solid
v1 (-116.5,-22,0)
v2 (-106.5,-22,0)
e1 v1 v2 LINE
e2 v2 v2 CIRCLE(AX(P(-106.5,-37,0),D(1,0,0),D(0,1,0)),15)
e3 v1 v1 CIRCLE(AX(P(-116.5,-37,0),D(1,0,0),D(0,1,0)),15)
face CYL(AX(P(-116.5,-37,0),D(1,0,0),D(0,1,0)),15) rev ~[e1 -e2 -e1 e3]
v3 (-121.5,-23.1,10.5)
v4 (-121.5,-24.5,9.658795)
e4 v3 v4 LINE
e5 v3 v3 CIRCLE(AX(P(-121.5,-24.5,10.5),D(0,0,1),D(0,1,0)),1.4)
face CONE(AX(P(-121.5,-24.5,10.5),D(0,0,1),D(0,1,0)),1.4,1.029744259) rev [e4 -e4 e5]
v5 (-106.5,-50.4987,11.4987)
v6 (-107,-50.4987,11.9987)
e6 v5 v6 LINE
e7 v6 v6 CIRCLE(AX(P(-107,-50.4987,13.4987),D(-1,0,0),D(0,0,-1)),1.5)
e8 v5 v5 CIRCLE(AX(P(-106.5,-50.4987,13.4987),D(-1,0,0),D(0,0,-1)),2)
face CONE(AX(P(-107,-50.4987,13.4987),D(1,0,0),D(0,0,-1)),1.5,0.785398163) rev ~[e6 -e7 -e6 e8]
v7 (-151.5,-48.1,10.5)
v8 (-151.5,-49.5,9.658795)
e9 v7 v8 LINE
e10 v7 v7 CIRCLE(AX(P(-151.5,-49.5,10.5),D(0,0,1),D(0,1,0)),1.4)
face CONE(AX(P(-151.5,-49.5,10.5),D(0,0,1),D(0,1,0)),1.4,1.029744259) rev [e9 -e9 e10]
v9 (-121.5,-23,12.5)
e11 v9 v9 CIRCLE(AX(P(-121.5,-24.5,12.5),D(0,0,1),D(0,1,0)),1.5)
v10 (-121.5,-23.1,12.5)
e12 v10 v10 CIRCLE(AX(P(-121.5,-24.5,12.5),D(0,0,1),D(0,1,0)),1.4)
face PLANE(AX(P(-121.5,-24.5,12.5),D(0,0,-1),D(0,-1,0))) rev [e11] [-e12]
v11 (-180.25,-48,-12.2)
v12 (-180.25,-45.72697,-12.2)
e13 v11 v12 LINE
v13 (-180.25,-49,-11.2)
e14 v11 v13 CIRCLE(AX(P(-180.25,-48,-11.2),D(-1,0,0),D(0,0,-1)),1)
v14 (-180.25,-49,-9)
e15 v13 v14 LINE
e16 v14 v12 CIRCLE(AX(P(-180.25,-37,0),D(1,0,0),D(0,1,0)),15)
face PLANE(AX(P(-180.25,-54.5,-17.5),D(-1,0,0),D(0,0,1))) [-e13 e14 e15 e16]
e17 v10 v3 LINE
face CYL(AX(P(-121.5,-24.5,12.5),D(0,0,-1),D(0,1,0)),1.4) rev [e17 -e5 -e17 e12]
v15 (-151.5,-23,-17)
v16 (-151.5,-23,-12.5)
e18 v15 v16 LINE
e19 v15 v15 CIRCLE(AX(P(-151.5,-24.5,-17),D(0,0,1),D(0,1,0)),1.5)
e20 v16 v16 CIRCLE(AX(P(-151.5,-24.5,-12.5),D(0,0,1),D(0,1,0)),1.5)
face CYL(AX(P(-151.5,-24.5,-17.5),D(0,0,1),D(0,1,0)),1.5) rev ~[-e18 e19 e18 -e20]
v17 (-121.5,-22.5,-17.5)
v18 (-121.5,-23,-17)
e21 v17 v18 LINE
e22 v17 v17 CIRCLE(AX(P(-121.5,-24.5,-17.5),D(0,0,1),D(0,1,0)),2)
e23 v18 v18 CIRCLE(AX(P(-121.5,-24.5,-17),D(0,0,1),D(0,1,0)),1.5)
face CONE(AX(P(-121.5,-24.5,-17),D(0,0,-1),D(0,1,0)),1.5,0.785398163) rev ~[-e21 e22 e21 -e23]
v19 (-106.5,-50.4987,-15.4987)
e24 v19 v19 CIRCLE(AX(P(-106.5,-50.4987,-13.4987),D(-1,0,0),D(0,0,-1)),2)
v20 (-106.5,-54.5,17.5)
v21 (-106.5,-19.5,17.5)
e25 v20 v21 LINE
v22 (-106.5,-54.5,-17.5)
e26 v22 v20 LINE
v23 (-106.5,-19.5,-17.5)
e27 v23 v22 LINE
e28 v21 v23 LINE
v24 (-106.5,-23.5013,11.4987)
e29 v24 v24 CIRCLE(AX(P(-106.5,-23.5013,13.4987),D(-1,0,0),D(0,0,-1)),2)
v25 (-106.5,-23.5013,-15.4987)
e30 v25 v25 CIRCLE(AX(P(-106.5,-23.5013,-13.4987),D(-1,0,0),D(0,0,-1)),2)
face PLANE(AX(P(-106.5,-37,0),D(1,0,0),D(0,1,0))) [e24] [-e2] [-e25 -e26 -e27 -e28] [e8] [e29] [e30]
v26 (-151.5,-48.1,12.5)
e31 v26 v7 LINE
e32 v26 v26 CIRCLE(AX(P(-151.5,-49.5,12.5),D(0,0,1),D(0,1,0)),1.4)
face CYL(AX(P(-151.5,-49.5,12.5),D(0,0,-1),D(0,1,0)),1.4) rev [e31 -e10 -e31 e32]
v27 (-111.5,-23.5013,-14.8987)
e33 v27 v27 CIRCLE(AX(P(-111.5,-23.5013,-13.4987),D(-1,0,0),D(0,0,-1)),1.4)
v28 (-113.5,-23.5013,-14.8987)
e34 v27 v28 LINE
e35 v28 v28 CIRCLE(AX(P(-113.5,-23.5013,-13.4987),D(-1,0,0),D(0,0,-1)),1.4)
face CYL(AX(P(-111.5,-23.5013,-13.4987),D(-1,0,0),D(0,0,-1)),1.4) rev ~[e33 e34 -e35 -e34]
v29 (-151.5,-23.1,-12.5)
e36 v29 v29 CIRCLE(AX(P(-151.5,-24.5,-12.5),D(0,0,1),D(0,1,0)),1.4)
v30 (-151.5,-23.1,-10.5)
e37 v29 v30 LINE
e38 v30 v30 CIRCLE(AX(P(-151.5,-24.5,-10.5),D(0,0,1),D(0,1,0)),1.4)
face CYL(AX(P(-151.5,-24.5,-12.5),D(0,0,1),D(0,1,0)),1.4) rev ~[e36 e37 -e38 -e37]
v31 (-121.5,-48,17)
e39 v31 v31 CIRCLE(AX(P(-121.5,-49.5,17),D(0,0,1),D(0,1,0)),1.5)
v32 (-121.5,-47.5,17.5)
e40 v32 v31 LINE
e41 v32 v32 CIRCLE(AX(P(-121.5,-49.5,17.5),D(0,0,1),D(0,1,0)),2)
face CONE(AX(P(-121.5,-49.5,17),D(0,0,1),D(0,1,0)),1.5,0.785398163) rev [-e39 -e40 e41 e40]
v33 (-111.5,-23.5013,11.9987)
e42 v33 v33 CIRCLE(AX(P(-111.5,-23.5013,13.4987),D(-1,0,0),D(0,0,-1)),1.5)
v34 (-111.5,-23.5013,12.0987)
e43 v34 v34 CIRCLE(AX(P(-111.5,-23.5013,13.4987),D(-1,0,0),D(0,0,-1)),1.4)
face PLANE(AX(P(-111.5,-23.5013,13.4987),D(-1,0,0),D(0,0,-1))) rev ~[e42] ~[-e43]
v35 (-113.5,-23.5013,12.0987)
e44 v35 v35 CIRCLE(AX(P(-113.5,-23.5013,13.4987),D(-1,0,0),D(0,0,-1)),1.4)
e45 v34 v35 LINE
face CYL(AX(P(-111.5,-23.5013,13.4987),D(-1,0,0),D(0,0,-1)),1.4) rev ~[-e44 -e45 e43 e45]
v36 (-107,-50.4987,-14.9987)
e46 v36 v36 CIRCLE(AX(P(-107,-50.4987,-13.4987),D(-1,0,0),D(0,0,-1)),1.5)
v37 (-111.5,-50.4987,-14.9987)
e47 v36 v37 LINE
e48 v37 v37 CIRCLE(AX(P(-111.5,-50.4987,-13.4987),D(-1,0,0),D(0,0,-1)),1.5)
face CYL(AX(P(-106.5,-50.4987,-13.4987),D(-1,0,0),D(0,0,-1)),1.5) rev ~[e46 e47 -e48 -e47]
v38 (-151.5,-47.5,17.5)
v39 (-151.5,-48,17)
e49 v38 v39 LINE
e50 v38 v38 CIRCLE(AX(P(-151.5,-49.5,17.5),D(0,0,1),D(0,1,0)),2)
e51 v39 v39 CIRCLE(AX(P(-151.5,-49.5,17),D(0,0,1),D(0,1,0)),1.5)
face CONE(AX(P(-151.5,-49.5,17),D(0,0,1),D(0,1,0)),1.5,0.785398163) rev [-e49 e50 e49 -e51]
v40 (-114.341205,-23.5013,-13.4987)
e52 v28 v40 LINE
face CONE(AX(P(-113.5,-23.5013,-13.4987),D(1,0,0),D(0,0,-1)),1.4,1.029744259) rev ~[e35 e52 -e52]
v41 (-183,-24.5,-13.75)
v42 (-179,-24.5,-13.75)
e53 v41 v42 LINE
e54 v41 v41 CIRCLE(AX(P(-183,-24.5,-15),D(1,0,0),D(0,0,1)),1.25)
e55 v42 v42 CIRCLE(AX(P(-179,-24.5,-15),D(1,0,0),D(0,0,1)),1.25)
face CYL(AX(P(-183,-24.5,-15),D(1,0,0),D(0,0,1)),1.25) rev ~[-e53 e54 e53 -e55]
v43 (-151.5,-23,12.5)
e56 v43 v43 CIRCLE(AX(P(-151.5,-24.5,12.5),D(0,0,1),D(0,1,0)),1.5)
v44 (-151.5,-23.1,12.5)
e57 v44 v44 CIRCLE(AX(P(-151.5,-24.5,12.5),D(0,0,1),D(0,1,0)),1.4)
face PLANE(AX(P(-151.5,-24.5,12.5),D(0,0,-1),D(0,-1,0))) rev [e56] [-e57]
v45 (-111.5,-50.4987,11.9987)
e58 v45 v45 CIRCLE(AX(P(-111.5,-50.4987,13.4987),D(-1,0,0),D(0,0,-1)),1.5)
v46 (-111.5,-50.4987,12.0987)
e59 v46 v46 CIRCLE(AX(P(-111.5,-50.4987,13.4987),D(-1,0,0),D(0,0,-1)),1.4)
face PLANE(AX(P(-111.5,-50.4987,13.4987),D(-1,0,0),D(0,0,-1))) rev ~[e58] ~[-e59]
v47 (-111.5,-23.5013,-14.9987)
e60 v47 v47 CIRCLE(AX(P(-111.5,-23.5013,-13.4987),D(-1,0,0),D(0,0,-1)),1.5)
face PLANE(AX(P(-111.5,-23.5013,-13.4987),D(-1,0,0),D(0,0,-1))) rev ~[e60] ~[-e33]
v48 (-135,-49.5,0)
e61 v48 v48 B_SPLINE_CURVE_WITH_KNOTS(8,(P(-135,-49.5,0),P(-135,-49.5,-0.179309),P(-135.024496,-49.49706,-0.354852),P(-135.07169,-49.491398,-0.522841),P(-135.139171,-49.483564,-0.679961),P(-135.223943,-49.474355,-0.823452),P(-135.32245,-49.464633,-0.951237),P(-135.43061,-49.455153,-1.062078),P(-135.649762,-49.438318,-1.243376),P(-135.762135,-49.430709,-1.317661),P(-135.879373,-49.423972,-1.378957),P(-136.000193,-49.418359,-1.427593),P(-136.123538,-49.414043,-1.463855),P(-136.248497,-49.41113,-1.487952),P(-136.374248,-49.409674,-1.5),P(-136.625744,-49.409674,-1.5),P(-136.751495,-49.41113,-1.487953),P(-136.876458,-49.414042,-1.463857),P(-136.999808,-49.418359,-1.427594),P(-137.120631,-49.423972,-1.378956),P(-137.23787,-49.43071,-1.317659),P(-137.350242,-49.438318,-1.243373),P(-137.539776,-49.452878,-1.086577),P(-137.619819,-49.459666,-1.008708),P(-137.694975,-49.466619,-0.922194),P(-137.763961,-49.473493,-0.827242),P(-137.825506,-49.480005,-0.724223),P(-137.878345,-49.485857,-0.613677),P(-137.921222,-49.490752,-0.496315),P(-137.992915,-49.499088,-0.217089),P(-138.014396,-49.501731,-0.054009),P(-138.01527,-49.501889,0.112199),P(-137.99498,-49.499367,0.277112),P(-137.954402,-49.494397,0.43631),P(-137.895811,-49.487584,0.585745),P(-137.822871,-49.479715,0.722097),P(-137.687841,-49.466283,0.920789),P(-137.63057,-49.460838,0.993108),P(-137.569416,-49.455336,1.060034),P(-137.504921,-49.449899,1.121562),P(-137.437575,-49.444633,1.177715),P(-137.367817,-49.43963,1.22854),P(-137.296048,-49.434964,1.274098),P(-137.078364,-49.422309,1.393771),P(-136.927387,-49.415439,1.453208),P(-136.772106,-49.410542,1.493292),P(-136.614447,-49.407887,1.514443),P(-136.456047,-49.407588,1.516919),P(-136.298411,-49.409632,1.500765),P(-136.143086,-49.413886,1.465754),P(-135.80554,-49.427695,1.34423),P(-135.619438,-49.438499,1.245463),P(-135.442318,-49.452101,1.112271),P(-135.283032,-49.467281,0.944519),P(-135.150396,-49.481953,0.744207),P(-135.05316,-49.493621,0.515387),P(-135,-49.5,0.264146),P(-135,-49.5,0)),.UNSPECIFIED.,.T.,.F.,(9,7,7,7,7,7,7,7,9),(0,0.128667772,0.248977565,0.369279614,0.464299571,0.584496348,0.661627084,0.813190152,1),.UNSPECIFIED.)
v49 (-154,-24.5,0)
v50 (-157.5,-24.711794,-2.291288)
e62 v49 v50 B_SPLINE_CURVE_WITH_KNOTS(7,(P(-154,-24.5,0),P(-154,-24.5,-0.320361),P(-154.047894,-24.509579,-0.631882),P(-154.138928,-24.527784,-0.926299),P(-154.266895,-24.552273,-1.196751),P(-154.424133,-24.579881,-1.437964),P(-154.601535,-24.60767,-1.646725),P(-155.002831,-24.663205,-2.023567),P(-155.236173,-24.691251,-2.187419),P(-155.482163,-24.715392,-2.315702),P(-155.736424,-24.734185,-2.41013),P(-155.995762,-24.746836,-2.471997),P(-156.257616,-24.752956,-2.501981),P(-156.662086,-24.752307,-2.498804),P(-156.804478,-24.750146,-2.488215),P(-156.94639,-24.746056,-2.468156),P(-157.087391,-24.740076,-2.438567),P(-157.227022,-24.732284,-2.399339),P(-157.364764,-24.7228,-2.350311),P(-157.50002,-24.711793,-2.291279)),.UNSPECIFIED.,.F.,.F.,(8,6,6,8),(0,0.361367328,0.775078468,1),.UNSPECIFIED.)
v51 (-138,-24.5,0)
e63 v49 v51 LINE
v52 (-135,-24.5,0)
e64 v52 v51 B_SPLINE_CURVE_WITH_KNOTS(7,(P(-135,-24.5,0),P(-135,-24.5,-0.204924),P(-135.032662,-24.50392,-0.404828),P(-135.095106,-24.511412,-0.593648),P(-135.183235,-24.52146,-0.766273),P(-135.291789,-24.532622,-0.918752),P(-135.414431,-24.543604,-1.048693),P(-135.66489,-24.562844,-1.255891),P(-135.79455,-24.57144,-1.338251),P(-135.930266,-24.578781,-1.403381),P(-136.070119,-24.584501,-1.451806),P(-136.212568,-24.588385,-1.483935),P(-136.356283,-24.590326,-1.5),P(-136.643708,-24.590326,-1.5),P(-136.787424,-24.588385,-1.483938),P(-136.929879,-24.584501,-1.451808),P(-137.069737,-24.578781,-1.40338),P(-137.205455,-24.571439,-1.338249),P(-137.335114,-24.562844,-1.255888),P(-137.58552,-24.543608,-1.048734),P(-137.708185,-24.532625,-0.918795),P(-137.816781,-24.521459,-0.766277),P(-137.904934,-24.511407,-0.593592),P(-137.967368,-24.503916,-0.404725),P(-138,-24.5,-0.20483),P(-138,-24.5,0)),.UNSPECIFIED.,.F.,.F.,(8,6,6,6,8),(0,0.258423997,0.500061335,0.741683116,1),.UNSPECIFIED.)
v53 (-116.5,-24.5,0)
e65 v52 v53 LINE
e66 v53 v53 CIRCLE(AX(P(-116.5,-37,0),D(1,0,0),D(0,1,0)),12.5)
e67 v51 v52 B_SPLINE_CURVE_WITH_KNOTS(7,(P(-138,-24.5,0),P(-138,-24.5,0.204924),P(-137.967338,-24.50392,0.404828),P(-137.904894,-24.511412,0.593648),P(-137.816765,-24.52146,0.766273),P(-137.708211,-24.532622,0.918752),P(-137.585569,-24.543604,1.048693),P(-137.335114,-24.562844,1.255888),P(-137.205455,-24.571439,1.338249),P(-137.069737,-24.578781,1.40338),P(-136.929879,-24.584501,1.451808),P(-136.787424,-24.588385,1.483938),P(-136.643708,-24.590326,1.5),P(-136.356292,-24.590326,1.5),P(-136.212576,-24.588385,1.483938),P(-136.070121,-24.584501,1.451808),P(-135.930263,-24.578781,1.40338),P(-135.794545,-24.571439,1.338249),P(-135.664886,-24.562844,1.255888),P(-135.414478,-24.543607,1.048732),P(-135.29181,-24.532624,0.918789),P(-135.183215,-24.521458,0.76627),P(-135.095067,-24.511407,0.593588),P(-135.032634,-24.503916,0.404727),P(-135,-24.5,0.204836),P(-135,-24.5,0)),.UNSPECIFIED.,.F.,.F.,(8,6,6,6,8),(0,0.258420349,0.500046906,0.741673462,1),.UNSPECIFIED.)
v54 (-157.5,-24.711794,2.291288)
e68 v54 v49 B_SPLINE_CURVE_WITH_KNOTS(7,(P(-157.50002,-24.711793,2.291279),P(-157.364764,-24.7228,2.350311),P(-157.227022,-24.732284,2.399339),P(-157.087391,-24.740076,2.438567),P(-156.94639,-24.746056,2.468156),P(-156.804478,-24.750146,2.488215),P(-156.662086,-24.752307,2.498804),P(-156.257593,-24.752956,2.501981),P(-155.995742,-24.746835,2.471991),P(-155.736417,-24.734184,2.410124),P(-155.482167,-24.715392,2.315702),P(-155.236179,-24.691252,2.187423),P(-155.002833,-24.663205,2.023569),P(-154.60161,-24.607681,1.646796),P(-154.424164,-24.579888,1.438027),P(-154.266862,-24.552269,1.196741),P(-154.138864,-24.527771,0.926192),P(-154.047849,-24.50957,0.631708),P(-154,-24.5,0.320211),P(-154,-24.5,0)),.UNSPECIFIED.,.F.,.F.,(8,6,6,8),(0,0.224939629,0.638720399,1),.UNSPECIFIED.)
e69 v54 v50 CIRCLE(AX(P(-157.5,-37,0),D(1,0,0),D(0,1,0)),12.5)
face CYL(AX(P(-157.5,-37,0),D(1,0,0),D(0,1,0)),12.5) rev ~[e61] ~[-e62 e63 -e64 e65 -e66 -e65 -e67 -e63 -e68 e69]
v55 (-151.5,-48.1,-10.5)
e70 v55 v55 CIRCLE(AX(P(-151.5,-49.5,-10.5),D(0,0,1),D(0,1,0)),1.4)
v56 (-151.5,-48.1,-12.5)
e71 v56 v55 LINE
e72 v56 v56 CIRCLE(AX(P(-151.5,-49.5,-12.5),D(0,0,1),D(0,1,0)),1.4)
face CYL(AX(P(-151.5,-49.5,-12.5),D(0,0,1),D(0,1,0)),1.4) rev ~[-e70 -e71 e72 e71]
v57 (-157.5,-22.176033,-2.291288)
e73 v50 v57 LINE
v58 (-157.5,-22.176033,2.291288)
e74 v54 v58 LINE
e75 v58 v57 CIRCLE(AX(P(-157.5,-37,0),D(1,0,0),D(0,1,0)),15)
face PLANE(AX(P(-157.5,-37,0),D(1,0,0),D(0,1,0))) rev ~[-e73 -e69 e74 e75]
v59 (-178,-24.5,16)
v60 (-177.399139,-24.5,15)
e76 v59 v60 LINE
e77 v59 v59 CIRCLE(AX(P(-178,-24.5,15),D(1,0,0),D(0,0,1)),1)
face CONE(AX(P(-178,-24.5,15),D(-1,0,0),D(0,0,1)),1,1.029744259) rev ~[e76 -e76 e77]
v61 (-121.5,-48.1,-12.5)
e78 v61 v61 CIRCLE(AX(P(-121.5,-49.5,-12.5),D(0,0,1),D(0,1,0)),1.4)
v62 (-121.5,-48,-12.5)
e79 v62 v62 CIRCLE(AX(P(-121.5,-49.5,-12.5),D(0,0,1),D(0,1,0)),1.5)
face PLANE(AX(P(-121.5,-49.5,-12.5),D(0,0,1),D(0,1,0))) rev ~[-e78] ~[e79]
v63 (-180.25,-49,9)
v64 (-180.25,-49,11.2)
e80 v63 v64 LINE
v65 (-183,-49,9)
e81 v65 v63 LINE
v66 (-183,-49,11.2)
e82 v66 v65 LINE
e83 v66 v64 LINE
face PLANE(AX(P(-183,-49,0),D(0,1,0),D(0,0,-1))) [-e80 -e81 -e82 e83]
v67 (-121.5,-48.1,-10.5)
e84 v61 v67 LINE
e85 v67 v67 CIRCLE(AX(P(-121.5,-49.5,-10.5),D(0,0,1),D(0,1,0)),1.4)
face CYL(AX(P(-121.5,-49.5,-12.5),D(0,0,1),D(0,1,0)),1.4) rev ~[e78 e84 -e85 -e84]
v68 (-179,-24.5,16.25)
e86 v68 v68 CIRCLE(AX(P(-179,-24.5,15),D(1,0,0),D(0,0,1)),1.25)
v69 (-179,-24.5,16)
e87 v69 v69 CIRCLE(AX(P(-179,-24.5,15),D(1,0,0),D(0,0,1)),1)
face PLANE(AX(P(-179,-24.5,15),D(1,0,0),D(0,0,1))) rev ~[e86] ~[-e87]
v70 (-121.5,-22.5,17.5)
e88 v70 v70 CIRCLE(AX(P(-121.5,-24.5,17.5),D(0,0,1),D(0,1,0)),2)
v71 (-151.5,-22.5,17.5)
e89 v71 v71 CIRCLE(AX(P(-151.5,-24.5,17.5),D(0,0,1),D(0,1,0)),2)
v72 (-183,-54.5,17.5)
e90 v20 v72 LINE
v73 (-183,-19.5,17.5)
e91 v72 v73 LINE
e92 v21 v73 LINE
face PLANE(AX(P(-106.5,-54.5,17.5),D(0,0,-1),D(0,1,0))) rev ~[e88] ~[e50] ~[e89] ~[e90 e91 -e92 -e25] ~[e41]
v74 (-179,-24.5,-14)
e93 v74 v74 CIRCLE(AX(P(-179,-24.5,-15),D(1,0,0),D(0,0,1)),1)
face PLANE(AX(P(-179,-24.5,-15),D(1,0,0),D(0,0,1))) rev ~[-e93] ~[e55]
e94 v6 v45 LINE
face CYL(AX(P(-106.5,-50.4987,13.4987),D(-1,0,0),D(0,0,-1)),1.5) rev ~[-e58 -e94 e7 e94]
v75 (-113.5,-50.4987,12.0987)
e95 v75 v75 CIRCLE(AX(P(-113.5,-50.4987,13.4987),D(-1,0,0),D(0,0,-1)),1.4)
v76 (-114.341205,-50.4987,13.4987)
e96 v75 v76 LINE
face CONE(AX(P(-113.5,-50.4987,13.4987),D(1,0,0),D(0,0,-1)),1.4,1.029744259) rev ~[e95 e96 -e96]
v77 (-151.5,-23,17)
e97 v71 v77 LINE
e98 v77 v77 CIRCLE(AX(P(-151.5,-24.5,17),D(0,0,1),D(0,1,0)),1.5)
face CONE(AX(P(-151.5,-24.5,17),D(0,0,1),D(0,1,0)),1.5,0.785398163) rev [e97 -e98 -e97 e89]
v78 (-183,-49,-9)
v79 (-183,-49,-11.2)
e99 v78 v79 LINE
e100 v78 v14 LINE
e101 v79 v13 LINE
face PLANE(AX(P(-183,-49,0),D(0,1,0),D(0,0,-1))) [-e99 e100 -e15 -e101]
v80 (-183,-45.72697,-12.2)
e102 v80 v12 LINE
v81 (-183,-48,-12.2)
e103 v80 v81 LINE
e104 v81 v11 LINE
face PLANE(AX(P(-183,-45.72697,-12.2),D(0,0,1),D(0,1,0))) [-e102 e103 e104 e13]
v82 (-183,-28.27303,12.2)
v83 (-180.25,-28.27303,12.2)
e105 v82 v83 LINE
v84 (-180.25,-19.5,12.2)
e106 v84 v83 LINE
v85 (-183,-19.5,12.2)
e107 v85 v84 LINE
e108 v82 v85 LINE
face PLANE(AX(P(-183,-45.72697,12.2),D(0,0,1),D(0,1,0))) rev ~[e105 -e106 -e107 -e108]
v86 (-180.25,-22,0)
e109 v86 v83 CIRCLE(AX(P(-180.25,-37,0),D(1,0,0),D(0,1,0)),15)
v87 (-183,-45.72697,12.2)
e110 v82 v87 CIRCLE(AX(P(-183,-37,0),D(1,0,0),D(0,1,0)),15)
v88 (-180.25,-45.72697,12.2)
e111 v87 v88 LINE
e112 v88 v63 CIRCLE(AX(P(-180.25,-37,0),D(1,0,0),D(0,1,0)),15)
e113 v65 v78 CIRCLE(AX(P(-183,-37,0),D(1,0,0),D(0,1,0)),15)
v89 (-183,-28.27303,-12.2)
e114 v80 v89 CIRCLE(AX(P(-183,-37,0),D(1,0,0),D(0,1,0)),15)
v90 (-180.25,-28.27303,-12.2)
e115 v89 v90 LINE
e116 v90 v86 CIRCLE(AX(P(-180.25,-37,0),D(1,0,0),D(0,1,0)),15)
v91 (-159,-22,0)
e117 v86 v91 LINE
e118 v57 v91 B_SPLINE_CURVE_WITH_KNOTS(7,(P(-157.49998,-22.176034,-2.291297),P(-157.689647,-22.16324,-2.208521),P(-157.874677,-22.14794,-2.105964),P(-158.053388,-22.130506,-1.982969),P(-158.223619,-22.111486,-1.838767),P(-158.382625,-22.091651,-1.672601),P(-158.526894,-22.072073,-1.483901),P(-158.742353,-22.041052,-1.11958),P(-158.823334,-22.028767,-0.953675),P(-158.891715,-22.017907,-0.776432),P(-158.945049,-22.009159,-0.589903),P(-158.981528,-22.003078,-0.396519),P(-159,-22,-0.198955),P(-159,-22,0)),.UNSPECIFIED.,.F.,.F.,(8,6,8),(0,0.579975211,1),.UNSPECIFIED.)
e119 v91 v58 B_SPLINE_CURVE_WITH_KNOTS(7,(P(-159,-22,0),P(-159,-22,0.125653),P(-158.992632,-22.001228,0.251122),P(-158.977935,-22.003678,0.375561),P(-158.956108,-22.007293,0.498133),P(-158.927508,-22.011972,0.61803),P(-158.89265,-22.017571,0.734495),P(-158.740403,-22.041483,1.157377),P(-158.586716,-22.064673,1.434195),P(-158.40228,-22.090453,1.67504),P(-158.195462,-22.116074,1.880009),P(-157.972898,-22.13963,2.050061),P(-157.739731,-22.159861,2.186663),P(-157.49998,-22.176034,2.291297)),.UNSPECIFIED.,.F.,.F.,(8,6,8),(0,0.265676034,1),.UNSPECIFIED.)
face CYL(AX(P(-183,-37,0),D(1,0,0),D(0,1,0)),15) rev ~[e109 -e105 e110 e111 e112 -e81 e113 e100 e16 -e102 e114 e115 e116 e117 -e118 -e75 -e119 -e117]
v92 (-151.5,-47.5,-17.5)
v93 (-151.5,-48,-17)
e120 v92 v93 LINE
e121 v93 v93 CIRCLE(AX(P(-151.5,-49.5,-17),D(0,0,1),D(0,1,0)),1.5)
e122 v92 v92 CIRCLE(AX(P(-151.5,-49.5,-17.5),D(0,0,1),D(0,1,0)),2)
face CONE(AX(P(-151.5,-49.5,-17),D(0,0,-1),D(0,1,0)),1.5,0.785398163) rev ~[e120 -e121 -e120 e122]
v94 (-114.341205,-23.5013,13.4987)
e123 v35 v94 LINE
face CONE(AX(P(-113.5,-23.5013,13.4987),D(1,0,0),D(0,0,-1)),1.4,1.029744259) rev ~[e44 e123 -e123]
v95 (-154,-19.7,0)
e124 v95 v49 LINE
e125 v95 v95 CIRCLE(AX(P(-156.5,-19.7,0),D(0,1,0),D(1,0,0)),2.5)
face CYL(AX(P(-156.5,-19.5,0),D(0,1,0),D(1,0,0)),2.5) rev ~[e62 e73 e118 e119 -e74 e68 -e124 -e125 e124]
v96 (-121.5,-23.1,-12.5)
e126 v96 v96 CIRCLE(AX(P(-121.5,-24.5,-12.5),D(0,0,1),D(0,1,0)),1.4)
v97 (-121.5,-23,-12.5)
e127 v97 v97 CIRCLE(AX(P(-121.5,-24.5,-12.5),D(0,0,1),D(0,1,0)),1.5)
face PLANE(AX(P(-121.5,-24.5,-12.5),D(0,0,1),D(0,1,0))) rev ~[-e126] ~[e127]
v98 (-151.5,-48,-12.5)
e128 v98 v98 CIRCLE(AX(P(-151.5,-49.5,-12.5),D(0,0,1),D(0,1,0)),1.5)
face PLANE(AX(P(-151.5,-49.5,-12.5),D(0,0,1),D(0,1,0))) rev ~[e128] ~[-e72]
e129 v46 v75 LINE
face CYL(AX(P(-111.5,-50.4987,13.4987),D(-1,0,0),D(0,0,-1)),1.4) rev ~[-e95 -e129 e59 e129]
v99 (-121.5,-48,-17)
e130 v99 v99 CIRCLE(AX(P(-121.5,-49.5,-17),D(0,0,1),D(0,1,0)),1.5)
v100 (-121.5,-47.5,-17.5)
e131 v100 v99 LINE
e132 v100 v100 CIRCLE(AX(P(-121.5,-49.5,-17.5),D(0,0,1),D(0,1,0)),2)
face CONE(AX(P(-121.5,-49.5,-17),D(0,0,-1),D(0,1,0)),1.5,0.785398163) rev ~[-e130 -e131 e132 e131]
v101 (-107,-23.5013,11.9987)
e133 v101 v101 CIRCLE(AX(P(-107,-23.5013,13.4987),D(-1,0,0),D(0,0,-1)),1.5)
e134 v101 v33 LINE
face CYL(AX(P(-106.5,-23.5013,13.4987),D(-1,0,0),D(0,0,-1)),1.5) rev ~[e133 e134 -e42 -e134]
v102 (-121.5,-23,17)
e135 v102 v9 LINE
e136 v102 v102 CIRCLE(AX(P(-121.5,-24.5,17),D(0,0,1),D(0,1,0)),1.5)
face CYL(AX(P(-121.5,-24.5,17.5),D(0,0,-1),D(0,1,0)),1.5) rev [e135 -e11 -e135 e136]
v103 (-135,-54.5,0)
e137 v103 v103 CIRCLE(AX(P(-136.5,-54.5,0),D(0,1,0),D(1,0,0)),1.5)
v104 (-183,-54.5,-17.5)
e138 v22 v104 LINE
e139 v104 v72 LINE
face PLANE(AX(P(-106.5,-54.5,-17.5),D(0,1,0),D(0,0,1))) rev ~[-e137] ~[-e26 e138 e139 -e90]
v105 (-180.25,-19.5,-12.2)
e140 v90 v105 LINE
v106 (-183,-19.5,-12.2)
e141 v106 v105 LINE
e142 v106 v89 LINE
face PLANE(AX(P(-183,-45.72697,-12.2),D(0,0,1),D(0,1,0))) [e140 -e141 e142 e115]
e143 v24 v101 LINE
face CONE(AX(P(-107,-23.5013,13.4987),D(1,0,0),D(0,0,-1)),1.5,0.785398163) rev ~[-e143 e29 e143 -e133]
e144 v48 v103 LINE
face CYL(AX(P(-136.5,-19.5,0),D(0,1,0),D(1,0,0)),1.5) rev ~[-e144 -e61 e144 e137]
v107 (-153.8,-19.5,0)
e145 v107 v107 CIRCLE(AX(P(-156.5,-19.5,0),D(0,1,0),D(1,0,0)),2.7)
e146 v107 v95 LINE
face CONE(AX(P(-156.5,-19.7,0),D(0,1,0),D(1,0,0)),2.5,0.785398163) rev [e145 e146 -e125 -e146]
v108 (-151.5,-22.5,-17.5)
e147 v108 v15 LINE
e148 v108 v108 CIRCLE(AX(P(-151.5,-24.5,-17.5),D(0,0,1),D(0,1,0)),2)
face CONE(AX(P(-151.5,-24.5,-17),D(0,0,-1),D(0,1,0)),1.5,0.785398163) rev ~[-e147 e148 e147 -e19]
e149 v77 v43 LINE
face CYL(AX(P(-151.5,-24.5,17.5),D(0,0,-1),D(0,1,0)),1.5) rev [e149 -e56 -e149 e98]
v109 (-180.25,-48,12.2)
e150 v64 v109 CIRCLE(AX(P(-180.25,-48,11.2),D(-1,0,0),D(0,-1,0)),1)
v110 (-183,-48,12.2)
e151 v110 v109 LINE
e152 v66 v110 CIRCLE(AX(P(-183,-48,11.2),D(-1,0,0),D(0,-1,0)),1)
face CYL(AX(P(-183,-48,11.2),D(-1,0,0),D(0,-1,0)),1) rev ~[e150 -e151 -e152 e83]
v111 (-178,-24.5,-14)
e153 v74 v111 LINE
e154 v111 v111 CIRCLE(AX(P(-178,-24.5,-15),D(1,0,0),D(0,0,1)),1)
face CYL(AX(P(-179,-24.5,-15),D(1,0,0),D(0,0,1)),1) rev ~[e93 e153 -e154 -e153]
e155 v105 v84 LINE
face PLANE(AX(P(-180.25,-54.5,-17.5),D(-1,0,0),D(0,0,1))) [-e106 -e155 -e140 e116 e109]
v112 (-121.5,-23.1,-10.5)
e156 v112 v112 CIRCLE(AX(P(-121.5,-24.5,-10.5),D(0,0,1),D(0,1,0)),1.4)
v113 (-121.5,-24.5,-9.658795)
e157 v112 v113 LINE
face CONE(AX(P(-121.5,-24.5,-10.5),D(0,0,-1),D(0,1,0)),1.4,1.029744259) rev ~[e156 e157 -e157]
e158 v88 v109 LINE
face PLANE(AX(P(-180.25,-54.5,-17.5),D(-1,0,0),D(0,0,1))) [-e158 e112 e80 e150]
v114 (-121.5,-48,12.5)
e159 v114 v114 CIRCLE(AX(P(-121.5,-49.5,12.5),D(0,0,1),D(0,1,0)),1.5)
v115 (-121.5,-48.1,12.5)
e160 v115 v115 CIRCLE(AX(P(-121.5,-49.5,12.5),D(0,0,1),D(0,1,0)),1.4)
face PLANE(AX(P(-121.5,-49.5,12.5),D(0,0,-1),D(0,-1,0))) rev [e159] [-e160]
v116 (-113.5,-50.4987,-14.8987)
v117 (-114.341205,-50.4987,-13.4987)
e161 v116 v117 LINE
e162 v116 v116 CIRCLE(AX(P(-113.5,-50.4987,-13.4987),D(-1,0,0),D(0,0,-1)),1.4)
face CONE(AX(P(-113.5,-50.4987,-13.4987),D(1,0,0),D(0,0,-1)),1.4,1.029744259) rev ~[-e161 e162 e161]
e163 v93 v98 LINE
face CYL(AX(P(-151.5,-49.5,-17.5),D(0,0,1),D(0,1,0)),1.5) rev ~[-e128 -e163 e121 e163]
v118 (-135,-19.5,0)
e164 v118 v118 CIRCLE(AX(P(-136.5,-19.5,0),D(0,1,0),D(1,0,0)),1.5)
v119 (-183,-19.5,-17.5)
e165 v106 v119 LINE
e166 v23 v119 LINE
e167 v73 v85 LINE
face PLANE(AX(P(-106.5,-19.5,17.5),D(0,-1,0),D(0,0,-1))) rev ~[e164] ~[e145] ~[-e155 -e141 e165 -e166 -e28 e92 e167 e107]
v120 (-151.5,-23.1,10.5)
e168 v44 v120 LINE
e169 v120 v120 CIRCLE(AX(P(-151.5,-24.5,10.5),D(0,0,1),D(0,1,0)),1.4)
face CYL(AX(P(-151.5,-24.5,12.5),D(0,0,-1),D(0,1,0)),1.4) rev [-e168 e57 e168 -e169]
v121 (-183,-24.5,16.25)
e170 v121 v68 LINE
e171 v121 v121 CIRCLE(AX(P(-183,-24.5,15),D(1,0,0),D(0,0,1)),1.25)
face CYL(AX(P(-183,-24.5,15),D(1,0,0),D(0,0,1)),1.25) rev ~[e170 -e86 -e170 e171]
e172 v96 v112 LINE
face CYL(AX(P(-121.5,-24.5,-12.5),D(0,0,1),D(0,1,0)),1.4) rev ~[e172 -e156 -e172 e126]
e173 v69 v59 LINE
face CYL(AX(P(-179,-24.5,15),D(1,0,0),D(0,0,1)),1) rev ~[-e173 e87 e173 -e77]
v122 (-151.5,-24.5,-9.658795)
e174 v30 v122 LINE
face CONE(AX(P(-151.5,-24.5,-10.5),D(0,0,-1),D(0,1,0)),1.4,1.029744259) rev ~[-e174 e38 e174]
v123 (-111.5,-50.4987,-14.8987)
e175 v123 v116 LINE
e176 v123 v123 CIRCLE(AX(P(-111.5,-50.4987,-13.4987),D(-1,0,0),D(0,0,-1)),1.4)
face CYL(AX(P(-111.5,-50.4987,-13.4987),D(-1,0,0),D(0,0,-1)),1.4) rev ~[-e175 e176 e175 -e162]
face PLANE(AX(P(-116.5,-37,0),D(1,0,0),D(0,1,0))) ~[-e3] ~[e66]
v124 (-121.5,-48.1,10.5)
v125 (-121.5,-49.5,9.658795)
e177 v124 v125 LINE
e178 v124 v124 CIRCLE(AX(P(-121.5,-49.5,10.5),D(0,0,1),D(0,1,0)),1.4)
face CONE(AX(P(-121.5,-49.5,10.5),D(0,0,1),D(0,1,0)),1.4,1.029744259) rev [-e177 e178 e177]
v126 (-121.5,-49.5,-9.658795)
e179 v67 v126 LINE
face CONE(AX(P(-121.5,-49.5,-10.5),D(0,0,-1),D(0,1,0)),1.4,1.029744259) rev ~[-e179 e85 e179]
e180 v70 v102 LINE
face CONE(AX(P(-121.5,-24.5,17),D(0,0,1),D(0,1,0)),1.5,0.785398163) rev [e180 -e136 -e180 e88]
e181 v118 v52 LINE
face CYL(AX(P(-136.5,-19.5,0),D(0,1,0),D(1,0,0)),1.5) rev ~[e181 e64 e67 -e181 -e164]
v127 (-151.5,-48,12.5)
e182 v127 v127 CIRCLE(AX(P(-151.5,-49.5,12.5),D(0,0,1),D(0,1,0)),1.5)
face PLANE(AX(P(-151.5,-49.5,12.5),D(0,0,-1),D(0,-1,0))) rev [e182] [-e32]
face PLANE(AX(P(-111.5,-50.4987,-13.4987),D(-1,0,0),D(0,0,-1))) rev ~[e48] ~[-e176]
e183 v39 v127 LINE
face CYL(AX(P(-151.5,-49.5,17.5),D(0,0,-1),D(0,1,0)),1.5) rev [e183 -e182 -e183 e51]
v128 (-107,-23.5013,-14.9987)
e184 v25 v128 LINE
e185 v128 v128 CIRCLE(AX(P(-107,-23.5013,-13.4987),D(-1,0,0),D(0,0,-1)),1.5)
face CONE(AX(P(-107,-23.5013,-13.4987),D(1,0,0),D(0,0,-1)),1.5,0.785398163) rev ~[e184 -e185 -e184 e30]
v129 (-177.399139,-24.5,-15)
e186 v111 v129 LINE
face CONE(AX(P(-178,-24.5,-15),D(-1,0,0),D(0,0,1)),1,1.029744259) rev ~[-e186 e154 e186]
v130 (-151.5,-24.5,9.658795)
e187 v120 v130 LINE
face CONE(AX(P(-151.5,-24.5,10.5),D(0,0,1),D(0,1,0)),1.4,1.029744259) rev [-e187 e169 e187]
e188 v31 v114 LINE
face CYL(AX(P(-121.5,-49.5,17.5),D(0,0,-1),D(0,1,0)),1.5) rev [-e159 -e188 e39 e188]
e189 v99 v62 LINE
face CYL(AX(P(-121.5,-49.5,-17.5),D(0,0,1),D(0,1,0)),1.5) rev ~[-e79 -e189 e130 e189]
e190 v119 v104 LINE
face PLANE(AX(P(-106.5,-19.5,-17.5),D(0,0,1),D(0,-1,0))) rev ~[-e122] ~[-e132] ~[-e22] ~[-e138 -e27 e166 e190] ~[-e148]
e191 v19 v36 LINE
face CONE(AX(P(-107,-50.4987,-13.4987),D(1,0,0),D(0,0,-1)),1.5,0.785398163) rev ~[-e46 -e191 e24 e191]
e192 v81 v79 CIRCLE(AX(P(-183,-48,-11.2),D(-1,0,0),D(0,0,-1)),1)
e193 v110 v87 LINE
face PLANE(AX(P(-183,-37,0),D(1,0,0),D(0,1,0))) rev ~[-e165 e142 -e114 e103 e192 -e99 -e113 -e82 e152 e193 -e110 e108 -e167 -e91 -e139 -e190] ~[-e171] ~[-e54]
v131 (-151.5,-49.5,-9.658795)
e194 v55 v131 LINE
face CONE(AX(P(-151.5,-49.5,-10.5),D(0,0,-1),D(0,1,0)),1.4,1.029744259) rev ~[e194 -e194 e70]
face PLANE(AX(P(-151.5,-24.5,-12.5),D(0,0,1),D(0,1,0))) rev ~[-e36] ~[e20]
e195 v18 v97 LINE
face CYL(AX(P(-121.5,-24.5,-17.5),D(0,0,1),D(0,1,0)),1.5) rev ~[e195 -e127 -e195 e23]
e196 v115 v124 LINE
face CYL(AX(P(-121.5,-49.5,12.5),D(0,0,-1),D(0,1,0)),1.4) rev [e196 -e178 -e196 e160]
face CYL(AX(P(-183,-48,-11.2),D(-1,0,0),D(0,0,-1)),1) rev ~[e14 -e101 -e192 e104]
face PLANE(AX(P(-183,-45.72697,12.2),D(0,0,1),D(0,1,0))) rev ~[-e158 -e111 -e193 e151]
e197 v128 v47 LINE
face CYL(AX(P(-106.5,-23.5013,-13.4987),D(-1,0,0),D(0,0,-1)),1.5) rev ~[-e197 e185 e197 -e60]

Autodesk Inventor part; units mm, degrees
sketch "Sketch1" plane through (0, 0, 0) normal (0, 0, 1) x (1, 0, 0)
  line L0 (-183, -19.5) -> (-106.5, -19.5)
  line L1 (-106.5, -19.5) -> (-106.5, -54.5)
  line L2 (-106.5, -54.5) -> (-183, -54.5)
  line L3 (-183, -54.5) -> (-183, -19.5)
  line L4 (-194, -37) -> (-96, -37) construction
  line L5 (-183, -22) -> (-157.5, -22)
  line L6 (-157.5, -22) -> (-157.5, -37)
  line L7 (-157.5, -24.5) -> (-116.5, -24.5)
  line L8 (-116.5, -37) -> (-116.5, -22)
  line L9 (-116.5, -22) -> (-106.5, -22)
  line L10 (-183, -52) -> (-157.5, -52) construction
  line L11 (-157.5, -52) -> (-157.5, -37) construction
  line L12 (-157.5, -49.5) -> (-116.5, -49.5) construction
  line L13 (-116.5, -37) -> (-116.5, -52) construction
  line L14 (-116.5, -52) -> (-106.5, -52) construction
  line L15 (-183, -37) -> (-106.5, -37)
  point P0 (0, 0)
  dimension "d0" = 76.5
  dimension "d1" = 35
  dimension "d2" = 30
  dimension "d3" = 25.5
  dimension "d4" = 10
  dimension "d5" = 25
  dimension "d6" = 30
sketch "Sketch3" plane through (0, 0, 0) normal (1, 0, 0) x (0, 1, 0)
  point P0 (0, 0)
ref_plane "Work Plane1" through (-106.5, -37, 0) normal (1, 0, 0) x (0, 1, 0)
sketch "Sketch4" plane through (-106.5, -37, 0) normal (1, 0, 0) x (0, 1, 0)
  point P0 (37, 0)
sketch "Sketch5" plane through (-106.5, -37, 0) normal (1, 0, 0) x (0, 1, 0)
  line L0 (-17.5, 17.5) -> (17.5, 17.5)
  line L1 (17.5, 17.5) -> (17.5, -17.5)
  line L2 (17.5, -17.5) -> (-17.5, -17.5)
  line L3 (-17.5, -17.5) -> (-17.5, 17.5)
  line L4 (-17.5, 17.5) -> (17.5, -17.5) construction
  line L5 (17.5, 17.5) -> (-17.5, -17.5) construction
  point P0 (37, 0)
  point P1 (0, 0)
  dimension "d10" = 35
  dimension "d11" = 35
ref_plane "Work Plane2" through (-183, -37, 0) normal (1, 0, 0) x (0, 1, 0)
extrude "Extrusion1" add sketch "Sketch5" against normal up to surface (76.5 mm away)
revolve "Revolution2" cut sketch "Sketch1" angle 360 about axis through (-194, -37, 0) along (1, 0, 0) contours L5 L6 L15 L3 | L1 L15 L8 L9 | L6 L7 L8 L15
sketch "Sketch7" plane through (-106.5, -37, 0) normal (1, 0, 0) x (0, 0, -1)
  circle A0 centre (0, 0) radius 19.09
  line L0 (-17.5, -17.5) -> (17.5, -17.5) projected
  line L1 (-17.5, 17.5) -> (-17.5, -17.5) projected
  line L2 (17.5, -17.5) -> (-17.5, 17.5) construction
  circle A1 centre (13.4987, -13.4987) radius 1.5
  circle A2 centre (13.4987, 13.4987) radius 1.5
  circle A3 centre (-13.4987, 13.4987) radius 1.5
  circle A4 centre (-13.4987, -13.4987) radius 1.5
  point P0 (0, 37)
  dimension "d21" = 38.18
  dimension "d22" = 3
  dimension "d25" = 360
hole "Hole1" at (-106.5, -23.5013, -13.4987) at (-106.5, -23.5013, 13.4987) at (-106.5, -50.4987, 13.4987) at (-106.5, -50.4987, -13.4987) direction (-1, 0, 0) diameter 2.8 depth 7 tip angle 118 counterbore diameter 3 counterbore depth 5
sketch "Sketch8" plane through (-183, -54.5, -17.5) normal (-1, 0, 0) x (0, 0, 1)
  line L0 (17.5, -7) -> (17.5, 46)
  circle A0 centre (2.5, 30) radius 1.25
  line L1 (0, 35) -> (0, 0) projected
  line L2 (35, 35) -> (0, 35) projected
  circle A1 centre (32.5, 30) radius 1.25
  circle A2 centre (17.5, 17.5) radius 15 projected
  circle A3 centre (17.5, 17.5) radius 15 projected
  line L3 (5.3, 6.5) -> (5.3, 35)
  line L4 (0, 35) -> (35, 35) projected
  arc A4 (5.3, 6.5) -> (6.3, 5.5) centre (6.3, 6.5) ccw
  line L5 (17.5, 5.5) -> (6.3, 5.5)
  line L6 (29.7, 6.5) -> (29.7, 35)
  arc A5 (28.7, 5.5) -> (29.7, 6.5) centre (28.7, 6.5) ccw
  line L7 (17.5, 5.5) -> (28.7, 5.5)
  point P0 (17.5, 54.5)
  point P1 (17.5, 5.5)
  point P2 (5.3, 35)
  dimension "d34" = 2.5
  dimension "d35" = 2.5
  dimension "d36" = 5
  dimension "d38" = 1
  dimension "d39" = 29.5
  dimension "d40" = 24.4
extrude "Extrusion2" cut sketch "Sketch8" against normal blind 2.75 contours L5 A2 L3 L0 | L0 A2 L6 L7 | L5 A4 L3 A2 | A2 L6 A5 L7 | A2 L3 L2 L0 | L0 L2 L6 A2
hole "Hole2" at (-183, -24.5, -15) at (-183, -24.5, 15) direction (1, 0, 0) diameter 2 depth 5 tip angle 118 counterbore diameter 2.5 counterbore depth 4
ref_plane "Work Plane3" through (-106.5, -37, -17.5) normal (0, -1, 0) x (1, 0, 0)
sketch "Sketch9" plane through (-106.5, -37, -17.5) normal (0, -1, 0) x (1, 0, 0)
  point P0 (106.5, 17.5)
sketch "Sketch11" plane through (-106.5, -19.5, 17.5) normal (0, 1, 0) x (1, 0, 0)
  line L0 (-73.75, 5.3) -> (-76.5, 5.3) projected
  line L1 (-76.5, 0) -> (-76.5, 5.3) projected
  line L2 (0, 0) -> (-76.5, 0) projected
  line L3 (0, 35) -> (0, 0) projected
  line L4 (0, 35) -> (-76.5, 35) projected
  line L5 (-76.5, 29.7) -> (-76.5, 35) projected
  line L6 (-76.5, 29.7) -> (-73.75, 29.7) projected
  line L7 (-73.75, 29.7) -> (-73.75, 5.3) projected
  line L8 (28.2317, 17.5) -> (-103.7683, 17.5) construction
  circle A0 centre (-30, 17.5) radius 1.5
  circle A1 centre (-50, 17.5) radius 2.5
  point P0 (106.5, 17.5)
  point P1 (0, 17.5)
  dimension "d54" = 3
  dimension "d55" = 5
  dimension "d56" = 30
  dimension "d57" = 50
extrude "Extrusion3" cut sketch "Sketch11" against normal up to surface (35 mm away) contours A0
extrude "Extrusion4" cut sketch "Sketch11" against normal up to surface contours A1
sketch "Sketch12" plane through (-106.5, -54.5, -17.5) normal (0, 0, -1) x (-1, 0, 0)
  line L0 (76.5, 35) -> (76.5, 0) projected
  line L1 (0, 35) -> (76.5, 35) projected
  line L2 (0, 0) -> (0, 35) projected
  line L3 (0, 0) -> (76.5, 0) projected
  line L4 (-16, 17.5) -> (90, 17.5)
  circle A0 centre (15, 5) radius 1.5
  circle A1 centre (45, 5) radius 1.5
  circle A2 centre (15, 30) radius 1.5
  circle A3 centre (45, 30) radius 1.5
  point P0 (-106.5, 54.5)
  point P1 (0, 17.5)
  dimension "d62" = 3
  dimension "d63" = 15
  dimension "d64" = 5
  dimension "d67" = 30
hole "Hole3" at (-121.5, -24.5, -17.5) at (-151.5, -24.5, -17.5) at (-151.5, -49.5, -17.5) at (-121.5, -49.5, -17.5) direction (0, 0, 1) diameter 2.8 depth 7 tip angle 118 counterbore diameter 3 counterbore depth 5
ref_plane "Work Plane4" through (-106.5, -54.5, 0) normal (0, 0, -1) x (-1, 0, 0)
mirror "Mirror2" about plane through (-106.5, -54.5, 0) normal (0, 0, -1) of "Hole3"
chamfer "Chamfer3" distance 0.5 angle 45 4 edges at (-151.5, -51, -17.5) (-151.5, -26, -17.5) (-121.5, -51, -17.5) (-121.5, -26, -17.5) measured on face at (-172.9115, -40.8826, -17.5)
chamfer "Chamfer4" distance 0.5 angle 45 4 edges at (-151.5, -26, 17.5) (-151.5, -51, 17.5) (-121.5, -26, 17.5) (-121.5, -51, 17.5) measured on face at (-172.9115, -33.1174, 17.5)
chamfer "Chamfer5" distance 0.5 angle 45 4 edges at (-106.5, -50.4987, -11.9987) (-106.5, -23.5013, -11.9987) (-106.5, -50.4987, 14.9987) (-106.5, -23.5013, 14.9987) measured on face at (-106.5, -37.6027, 16.6302)
chamfer "Chamfer6" distance 0.2 angle 45 1 edges at (-159, -19.5, 0) measured on face at (-148.5662, -19.5, -12.4939)
equation "\"d27\" = m3"
equation "\"d72\" = m3"
equation "\"m3\" = 2.8"
equation "\"m4\" = 3.8"
properties part number "АНЦП.014.00.00.003" material "PET Plastic"
